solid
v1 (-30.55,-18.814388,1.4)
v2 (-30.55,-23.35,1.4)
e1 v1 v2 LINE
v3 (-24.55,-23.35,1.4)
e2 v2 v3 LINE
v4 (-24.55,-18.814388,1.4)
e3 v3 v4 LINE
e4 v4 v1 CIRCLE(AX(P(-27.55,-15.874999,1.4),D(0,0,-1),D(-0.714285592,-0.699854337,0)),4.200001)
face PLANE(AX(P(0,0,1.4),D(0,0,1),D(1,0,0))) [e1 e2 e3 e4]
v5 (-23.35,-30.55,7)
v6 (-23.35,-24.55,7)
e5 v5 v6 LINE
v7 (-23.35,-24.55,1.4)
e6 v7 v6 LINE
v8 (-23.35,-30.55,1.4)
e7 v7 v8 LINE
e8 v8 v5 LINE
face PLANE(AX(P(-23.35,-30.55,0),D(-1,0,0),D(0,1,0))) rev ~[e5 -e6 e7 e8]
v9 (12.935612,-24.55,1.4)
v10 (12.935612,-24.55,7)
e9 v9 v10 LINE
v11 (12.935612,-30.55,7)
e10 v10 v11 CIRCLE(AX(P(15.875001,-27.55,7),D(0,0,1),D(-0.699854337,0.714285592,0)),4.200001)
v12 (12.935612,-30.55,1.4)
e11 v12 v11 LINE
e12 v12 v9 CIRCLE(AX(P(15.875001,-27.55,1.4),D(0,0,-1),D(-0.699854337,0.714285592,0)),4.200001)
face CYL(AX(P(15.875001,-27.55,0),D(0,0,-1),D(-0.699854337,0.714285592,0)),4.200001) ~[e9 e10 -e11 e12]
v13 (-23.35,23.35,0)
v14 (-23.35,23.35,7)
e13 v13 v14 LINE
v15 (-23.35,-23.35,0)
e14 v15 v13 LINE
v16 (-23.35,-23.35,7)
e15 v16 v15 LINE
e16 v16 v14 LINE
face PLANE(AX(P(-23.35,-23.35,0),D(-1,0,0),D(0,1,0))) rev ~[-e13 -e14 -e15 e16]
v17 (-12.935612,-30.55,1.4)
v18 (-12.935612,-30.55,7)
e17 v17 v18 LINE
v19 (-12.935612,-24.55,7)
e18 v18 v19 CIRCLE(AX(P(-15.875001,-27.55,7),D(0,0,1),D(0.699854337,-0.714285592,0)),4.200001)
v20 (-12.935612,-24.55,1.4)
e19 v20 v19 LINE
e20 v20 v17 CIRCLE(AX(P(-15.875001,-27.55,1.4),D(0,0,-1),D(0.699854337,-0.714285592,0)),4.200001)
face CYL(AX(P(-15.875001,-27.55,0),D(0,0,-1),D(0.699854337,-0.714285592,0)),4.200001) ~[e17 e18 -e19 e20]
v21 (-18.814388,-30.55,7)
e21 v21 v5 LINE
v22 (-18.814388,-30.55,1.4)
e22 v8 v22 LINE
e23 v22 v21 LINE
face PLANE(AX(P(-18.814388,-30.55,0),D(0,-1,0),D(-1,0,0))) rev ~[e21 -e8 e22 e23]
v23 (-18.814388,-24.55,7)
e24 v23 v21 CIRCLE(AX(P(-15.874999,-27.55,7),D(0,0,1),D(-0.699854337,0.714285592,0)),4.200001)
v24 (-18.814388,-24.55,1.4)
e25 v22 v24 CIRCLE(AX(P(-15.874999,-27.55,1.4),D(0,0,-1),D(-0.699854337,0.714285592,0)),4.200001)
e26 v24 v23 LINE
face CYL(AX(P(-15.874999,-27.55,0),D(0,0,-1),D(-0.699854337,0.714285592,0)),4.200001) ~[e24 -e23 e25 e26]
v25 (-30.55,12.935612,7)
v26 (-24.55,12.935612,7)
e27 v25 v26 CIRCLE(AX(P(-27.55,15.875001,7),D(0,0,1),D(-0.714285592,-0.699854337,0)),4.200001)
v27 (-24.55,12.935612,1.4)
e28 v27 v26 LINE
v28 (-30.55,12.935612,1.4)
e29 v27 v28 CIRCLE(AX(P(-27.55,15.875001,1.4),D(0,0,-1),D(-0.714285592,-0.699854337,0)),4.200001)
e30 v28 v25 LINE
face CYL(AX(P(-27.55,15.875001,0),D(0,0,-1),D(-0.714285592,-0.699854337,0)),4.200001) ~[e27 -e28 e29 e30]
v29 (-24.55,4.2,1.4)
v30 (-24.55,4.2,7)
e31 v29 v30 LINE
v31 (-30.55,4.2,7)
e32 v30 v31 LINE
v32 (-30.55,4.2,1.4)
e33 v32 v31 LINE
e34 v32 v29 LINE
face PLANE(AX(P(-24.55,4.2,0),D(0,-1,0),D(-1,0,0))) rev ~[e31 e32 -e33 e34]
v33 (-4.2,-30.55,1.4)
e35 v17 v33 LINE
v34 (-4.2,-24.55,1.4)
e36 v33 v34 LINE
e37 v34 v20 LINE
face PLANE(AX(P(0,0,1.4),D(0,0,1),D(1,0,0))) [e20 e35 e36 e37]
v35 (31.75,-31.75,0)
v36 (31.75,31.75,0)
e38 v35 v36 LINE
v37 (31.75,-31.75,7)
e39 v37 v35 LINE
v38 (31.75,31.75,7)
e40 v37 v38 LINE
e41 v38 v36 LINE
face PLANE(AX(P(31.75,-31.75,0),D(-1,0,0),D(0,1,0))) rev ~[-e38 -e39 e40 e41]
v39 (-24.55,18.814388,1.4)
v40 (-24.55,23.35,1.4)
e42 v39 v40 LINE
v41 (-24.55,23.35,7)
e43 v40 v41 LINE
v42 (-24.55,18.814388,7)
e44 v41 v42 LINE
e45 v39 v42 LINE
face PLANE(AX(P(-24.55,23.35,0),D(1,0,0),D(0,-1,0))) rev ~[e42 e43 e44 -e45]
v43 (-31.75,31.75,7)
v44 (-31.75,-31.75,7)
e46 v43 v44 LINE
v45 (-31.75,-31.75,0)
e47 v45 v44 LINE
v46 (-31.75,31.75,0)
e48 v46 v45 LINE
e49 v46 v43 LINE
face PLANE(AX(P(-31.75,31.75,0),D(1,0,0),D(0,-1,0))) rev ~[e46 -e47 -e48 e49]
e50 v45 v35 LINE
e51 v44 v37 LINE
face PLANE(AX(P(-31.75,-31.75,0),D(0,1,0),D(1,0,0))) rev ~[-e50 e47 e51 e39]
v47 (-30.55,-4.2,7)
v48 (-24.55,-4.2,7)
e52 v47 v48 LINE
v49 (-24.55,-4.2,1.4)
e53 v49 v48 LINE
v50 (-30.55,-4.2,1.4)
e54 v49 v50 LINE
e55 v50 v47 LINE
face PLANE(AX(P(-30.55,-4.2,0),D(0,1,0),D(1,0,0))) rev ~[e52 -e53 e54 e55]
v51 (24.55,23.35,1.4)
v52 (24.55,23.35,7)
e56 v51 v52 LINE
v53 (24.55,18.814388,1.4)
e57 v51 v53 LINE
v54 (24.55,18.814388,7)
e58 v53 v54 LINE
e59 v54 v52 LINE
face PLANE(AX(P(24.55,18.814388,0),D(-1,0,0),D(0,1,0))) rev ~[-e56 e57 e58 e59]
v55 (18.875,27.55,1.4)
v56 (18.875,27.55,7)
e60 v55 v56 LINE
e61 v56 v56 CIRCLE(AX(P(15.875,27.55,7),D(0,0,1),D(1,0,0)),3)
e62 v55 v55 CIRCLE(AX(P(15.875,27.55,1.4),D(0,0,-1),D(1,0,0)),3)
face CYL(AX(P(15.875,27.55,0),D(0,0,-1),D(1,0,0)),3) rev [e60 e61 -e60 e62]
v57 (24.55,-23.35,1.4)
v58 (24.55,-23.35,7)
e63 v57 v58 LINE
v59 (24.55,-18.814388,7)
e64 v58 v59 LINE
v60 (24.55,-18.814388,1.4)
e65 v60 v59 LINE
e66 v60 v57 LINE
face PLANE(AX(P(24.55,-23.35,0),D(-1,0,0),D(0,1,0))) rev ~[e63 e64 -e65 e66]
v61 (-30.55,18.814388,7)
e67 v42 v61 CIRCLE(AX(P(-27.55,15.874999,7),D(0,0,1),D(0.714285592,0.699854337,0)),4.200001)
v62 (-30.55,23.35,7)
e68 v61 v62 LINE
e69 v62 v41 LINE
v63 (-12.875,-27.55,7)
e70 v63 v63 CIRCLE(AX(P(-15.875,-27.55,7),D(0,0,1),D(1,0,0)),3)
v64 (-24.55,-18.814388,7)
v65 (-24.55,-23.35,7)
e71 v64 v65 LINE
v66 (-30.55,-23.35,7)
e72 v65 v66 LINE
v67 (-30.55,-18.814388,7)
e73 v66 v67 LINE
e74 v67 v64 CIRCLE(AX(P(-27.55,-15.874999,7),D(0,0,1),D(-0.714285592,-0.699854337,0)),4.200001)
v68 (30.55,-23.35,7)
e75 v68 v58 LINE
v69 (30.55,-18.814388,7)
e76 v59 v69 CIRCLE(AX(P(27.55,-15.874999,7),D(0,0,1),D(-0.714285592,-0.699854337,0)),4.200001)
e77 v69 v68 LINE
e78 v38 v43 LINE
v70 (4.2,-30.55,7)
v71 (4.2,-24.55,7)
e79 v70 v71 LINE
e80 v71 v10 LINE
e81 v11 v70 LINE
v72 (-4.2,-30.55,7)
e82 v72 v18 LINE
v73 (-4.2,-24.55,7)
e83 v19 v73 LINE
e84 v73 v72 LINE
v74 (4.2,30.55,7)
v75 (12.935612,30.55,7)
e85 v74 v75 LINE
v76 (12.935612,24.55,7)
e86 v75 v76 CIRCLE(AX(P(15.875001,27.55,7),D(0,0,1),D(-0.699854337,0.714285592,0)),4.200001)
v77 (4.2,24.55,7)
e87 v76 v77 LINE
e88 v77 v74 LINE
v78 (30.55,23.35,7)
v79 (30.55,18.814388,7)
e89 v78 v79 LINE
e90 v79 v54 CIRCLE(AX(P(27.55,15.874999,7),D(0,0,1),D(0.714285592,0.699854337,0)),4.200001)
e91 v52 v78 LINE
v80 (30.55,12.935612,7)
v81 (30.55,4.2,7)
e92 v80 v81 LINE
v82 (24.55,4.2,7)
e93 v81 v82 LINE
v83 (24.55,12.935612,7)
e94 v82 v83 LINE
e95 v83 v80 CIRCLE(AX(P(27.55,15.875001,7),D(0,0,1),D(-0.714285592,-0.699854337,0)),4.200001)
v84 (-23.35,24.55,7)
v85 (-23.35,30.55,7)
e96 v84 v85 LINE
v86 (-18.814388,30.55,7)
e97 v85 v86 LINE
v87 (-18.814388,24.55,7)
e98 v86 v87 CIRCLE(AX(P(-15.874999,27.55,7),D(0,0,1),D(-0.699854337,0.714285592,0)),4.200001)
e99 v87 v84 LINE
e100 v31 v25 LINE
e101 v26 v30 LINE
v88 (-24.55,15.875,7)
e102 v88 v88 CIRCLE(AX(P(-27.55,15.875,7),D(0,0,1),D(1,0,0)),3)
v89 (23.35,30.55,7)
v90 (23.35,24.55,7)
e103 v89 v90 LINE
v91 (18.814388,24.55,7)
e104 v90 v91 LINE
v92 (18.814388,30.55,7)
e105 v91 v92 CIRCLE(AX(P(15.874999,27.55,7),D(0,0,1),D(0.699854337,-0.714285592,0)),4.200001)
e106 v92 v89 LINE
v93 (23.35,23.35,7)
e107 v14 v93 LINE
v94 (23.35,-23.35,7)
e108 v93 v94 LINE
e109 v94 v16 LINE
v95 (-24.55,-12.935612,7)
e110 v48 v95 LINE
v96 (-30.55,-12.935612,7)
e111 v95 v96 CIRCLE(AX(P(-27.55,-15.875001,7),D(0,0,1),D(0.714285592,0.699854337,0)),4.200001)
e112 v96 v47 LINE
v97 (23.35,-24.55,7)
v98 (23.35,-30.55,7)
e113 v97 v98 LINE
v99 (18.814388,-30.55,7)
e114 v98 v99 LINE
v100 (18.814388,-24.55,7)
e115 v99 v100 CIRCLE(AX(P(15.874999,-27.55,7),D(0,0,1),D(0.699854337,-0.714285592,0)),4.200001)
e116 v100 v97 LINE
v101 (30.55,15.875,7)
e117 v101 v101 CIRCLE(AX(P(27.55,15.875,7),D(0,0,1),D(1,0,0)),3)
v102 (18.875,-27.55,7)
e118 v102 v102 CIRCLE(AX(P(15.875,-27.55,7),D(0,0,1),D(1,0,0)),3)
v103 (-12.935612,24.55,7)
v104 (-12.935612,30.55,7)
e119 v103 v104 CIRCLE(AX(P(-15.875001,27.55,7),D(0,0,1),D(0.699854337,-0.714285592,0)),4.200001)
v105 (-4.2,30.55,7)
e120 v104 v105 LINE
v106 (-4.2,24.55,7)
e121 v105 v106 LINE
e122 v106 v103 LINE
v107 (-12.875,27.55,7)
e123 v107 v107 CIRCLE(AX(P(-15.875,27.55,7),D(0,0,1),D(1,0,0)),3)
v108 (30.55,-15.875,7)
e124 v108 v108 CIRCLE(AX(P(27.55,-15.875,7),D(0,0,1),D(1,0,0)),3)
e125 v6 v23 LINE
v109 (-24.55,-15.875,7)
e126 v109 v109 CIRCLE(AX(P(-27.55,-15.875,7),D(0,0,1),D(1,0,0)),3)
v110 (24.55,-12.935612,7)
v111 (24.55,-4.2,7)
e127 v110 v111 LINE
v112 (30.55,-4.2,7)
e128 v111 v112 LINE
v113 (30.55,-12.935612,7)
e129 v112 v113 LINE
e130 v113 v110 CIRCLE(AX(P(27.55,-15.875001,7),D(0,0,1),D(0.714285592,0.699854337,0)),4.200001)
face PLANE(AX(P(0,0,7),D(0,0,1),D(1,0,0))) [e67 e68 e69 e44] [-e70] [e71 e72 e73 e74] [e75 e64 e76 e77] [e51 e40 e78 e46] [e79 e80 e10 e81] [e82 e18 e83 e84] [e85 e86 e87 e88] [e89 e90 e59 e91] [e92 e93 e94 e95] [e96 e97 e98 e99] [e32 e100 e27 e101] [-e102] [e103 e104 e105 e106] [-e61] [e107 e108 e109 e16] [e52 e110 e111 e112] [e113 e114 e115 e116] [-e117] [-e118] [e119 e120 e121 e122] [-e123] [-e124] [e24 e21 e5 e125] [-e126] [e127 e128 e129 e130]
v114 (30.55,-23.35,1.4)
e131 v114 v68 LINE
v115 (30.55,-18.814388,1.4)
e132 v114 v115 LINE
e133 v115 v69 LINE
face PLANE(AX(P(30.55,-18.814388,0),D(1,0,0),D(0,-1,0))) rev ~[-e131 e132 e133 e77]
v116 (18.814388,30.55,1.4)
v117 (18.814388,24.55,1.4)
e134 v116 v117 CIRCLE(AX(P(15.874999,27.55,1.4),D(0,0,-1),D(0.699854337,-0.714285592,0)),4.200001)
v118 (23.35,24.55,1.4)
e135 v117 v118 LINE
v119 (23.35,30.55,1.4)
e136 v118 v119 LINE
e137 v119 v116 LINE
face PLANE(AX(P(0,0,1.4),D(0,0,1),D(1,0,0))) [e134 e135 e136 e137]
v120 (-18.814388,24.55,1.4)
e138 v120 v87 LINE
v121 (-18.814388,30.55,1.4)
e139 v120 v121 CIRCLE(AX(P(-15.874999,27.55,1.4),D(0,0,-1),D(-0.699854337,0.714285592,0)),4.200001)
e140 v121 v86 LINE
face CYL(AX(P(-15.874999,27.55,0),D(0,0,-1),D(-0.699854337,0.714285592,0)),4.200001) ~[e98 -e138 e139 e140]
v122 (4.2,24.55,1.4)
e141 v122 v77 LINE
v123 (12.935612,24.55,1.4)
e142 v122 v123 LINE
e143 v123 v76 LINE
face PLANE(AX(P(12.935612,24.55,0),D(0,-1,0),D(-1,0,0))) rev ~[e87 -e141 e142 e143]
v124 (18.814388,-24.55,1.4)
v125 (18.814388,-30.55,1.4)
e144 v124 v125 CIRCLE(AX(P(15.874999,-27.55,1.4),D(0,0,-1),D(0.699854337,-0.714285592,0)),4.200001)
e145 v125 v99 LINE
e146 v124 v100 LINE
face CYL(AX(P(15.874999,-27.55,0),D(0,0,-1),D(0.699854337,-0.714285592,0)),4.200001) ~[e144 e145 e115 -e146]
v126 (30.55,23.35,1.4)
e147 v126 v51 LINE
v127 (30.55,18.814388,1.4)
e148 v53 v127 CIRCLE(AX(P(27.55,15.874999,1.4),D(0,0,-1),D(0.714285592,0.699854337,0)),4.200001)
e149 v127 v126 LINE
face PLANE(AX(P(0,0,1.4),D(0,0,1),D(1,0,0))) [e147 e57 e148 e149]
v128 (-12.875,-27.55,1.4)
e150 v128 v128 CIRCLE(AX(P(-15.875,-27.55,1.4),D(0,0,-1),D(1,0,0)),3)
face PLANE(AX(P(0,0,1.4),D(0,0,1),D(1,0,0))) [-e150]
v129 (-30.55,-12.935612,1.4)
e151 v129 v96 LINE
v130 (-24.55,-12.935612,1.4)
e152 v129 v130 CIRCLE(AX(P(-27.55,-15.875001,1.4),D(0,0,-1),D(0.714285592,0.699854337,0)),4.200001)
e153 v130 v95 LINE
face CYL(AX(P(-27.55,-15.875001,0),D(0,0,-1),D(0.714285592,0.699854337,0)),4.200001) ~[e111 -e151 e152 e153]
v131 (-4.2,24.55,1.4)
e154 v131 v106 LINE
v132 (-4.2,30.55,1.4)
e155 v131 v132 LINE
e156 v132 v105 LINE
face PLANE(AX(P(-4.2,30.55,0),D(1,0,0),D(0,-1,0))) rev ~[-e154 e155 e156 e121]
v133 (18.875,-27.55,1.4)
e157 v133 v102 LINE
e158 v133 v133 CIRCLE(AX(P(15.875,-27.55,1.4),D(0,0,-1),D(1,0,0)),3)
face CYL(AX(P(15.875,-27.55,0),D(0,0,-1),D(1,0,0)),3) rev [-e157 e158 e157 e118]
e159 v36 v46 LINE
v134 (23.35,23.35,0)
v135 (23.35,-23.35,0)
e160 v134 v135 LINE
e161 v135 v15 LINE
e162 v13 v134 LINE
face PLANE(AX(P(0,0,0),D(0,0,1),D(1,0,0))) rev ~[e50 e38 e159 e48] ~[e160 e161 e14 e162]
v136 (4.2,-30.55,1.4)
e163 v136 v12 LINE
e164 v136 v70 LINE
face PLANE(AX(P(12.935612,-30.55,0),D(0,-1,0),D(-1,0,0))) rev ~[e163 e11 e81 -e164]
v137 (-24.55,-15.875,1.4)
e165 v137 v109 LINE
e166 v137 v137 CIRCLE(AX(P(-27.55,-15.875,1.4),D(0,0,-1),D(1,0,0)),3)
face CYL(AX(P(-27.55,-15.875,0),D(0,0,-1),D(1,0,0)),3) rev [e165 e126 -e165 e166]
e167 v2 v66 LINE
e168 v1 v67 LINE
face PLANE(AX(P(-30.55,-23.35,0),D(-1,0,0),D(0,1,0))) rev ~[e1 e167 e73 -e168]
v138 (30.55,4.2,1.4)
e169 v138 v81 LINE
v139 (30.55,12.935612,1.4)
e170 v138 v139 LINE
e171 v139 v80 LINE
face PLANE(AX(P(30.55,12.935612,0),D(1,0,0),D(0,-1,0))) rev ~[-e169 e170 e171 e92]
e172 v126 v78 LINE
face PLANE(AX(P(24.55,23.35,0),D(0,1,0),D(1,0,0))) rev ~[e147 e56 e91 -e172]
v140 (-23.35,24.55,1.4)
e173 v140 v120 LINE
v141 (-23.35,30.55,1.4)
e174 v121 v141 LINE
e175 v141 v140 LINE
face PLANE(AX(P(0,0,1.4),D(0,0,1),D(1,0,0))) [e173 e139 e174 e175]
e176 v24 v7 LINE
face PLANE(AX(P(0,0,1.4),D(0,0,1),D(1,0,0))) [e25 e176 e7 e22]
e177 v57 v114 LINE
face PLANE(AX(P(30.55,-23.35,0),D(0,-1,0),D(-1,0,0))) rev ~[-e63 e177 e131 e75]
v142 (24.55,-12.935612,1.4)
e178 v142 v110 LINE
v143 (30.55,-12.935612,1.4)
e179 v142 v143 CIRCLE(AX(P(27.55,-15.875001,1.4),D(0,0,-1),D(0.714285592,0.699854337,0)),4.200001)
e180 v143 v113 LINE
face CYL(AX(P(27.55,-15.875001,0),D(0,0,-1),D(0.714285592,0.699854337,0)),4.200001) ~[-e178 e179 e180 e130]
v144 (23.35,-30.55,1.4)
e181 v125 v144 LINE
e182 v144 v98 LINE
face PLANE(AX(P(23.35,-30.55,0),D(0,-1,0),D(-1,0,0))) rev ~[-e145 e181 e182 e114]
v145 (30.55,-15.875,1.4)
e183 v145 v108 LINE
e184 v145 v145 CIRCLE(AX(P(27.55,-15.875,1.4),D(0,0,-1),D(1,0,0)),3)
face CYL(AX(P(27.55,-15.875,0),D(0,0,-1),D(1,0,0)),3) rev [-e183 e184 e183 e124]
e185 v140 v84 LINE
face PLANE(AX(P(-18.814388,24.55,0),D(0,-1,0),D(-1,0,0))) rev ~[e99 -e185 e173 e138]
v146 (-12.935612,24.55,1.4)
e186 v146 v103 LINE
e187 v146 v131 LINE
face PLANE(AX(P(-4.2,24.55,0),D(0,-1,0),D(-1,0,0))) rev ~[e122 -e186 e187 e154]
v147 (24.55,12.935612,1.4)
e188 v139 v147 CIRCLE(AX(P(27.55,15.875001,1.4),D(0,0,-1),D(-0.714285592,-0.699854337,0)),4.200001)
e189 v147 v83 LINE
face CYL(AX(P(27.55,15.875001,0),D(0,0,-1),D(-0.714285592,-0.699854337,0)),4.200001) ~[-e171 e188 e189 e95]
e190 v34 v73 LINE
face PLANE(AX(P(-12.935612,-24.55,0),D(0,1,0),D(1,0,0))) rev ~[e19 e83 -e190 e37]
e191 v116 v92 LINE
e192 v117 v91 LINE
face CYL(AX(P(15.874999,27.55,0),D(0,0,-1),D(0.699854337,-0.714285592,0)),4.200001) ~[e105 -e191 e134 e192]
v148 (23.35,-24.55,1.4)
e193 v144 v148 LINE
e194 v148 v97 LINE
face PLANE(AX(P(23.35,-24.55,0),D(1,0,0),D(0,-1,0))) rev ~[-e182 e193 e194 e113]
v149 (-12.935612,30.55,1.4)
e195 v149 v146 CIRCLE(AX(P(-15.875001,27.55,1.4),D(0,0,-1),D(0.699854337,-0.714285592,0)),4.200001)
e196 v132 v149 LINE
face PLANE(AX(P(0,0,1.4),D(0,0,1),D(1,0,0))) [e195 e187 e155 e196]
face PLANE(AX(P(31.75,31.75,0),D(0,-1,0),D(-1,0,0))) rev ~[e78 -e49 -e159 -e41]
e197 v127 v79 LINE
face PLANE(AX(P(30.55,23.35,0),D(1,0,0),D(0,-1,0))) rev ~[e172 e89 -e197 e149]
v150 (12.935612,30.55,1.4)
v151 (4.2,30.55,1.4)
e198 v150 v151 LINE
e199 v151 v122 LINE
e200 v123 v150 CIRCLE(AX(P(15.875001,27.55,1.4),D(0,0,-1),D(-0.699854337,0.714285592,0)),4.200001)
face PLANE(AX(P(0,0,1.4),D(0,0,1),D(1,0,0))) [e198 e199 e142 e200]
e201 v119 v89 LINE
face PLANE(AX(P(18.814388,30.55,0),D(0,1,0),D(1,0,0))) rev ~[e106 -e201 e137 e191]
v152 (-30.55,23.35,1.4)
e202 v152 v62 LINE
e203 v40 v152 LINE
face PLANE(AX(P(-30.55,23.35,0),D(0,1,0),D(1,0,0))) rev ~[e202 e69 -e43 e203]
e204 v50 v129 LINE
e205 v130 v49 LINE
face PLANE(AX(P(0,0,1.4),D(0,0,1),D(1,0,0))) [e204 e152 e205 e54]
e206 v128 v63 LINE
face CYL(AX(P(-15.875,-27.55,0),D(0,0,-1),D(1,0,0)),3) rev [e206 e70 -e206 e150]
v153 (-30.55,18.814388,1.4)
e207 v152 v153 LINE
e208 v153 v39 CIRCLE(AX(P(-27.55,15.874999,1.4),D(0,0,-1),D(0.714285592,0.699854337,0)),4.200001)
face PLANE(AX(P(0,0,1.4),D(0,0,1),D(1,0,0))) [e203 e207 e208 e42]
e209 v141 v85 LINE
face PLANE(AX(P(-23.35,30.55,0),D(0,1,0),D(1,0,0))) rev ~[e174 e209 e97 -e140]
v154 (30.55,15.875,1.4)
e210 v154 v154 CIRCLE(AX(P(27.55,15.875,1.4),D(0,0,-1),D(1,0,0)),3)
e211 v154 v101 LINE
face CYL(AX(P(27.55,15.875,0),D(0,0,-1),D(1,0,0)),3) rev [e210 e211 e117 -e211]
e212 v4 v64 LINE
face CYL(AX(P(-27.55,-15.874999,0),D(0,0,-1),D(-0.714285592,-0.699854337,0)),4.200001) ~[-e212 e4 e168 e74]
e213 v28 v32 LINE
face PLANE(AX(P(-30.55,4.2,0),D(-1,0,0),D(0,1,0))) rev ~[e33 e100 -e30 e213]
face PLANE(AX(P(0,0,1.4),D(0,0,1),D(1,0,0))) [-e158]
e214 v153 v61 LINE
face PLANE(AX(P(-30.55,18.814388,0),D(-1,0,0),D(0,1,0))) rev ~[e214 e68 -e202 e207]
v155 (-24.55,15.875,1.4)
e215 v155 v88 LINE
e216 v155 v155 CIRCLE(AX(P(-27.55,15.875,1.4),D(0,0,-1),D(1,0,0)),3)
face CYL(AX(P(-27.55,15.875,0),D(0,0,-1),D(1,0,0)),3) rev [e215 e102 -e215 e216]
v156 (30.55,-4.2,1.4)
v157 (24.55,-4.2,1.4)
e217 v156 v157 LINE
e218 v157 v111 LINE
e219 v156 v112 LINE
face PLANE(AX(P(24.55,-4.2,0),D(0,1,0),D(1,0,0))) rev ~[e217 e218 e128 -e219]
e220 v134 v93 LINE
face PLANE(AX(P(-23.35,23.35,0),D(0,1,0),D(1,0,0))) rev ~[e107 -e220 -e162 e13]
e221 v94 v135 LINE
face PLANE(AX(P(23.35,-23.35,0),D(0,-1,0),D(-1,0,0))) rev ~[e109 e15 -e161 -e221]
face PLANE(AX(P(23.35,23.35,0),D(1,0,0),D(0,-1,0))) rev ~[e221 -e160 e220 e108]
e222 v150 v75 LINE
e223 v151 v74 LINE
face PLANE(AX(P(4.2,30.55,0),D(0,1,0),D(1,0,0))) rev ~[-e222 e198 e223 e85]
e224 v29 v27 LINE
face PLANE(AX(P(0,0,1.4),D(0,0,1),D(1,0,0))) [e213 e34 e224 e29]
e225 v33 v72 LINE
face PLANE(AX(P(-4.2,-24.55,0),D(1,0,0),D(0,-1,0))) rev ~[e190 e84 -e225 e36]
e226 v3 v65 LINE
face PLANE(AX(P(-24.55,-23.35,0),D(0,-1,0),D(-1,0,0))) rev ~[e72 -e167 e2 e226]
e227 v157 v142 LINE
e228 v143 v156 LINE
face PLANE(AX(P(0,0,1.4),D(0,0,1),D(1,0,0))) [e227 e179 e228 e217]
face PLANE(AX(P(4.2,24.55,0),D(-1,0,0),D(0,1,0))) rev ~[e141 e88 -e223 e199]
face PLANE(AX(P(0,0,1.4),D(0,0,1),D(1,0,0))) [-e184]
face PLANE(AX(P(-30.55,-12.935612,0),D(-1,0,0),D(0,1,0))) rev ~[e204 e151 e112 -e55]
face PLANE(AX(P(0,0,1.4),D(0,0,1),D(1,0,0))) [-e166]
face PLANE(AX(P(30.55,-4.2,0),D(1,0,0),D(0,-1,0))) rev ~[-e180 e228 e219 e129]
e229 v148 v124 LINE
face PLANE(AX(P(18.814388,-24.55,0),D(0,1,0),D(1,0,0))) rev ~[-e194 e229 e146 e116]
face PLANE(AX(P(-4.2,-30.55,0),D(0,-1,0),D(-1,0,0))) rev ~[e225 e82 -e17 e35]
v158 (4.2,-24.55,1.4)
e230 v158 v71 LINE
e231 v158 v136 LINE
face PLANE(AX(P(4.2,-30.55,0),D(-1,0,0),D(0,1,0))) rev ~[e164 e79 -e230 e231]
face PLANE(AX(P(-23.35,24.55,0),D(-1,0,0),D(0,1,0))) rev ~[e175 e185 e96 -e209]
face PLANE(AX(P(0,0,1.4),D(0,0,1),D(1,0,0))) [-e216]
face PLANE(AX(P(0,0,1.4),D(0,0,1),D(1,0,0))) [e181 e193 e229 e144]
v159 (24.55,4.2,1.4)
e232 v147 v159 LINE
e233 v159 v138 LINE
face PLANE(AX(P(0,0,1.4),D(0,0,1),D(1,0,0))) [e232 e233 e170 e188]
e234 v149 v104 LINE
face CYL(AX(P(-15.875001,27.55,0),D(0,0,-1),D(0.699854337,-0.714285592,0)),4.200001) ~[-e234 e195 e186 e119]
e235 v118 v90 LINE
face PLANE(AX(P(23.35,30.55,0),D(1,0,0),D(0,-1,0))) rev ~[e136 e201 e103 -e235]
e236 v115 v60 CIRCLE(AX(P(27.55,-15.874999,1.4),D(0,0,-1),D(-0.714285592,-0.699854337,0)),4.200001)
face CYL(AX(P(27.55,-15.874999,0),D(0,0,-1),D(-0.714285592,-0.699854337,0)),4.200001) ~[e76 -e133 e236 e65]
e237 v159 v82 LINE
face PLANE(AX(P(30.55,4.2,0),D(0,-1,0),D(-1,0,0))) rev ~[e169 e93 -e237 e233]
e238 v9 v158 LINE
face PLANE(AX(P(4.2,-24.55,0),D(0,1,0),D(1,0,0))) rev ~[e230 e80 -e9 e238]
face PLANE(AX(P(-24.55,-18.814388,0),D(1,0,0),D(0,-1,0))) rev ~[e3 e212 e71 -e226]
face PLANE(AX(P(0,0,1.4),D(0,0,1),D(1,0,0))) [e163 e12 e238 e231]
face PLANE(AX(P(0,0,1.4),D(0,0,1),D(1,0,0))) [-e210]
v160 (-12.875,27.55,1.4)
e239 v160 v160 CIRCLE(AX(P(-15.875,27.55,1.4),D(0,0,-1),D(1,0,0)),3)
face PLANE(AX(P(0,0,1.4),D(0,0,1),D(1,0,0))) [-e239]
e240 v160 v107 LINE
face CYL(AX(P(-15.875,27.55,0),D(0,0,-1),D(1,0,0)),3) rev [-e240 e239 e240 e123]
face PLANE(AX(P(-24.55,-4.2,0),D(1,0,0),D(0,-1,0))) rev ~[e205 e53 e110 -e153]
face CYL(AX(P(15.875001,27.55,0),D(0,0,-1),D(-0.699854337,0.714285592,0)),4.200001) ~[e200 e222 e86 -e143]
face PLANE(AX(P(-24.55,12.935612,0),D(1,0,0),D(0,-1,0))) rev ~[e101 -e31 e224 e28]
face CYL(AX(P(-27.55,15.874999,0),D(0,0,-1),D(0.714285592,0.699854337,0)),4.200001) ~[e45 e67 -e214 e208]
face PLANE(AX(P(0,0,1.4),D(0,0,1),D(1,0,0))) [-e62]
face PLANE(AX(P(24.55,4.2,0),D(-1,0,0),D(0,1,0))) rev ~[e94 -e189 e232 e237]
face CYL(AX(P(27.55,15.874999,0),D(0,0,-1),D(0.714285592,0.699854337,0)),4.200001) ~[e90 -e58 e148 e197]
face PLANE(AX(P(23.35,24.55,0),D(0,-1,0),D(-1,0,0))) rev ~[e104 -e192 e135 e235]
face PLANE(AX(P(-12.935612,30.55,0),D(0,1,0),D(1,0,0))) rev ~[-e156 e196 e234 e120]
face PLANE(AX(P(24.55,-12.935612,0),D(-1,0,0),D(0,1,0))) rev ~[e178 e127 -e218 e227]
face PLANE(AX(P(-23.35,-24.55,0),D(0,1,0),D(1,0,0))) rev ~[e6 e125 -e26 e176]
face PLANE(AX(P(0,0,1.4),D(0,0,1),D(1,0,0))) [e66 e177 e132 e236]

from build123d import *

# Parameters (mm, degrees)
F0_R     = 3
F1_DEPTH = 1.4
F2_DEPTH = 7


with BuildPart() as f1:
    # F0 (on Top) → F1 (new body)
    with BuildSketch(Plane.XY):
        Polygon((31.75, 31.75), (0, 31.75), (-31.75, 31.75), (-31.75, 0), (-31.75, -31.75), (0, -31.75), (31.75, -31.75), (31.75, 0), align=None)
        with BuildLine():
            ThreePointArc((-18.814388, -24.55), (-20.075, -27.55), (-18.814388, -30.55))
            Line((-18.814388, -30.55), (-23.35, -30.55))
            Line((-23.35, -30.55), (-23.35, -24.55))
            Line((-23.35, -24.55), (-18.814388, -24.55))
        make_face(mode=Mode.SUBTRACT)
        with BuildLine():
            Line((-24.55, -18.814388), (-24.55, -23.35))
            Line((-24.55, -23.35), (-30.55, -23.35))
            Line((-30.55, -23.35), (-30.55, -18.814388))
            ThreePointArc((-30.55, -18.814388), (-27.55, -20.075), (-24.55, -18.814388))
        make_face(mode=Mode.SUBTRACT)
        with Locations((-15.875, -27.55)):
            Circle(F0_R, mode=Mode.SUBTRACT)
        with Locations((-27.55, -15.875)):
            Circle(F0_R, mode=Mode.SUBTRACT)
        with BuildLine():
            Line((4.2, -30.55), (0, -30.55))
            Line((0, -30.55), (-4.2, -30.55))
            Line((-4.2, -30.55), (-12.935612, -30.55))
            ThreePointArc((-12.935612, -30.55), (-11.675, -27.55), (-12.935612, -24.55))
            Line((-12.935612, -24.55), (-4.2, -24.55))
            Line((-4.2, -24.55), (0, -24.55))
            Line((0, -24.55), (4.2, -24.55))
            Line((4.2, -24.55), (12.935612, -24.55))
            ThreePointArc((12.935612, -24.55), (11.675, -27.55), (12.935612, -30.55))
            Line((12.935612, -30.55), (4.2, -30.55))
        make_face(mode=Mode.SUBTRACT)
        with Locations((15.875, -27.55)):
            Circle(F0_R, mode=Mode.SUBTRACT)
        with BuildLine():
            Line((23.35, -30.55), (18.814388, -30.55))
            ThreePointArc((18.814388, -30.55), (20.075, -27.55), (18.814388, -24.55))
            Line((18.814388, -24.55), (23.35, -24.55))
            Line((23.35, -24.55), (23.35, -30.55))
        make_face(mode=Mode.SUBTRACT)
        with BuildLine():
            Line((30.55, -23.35), (24.55, -23.35))
            Line((24.55, -23.35), (24.55, -18.814388))
            ThreePointArc((24.55, -18.814388), (27.55, -20.075), (30.55, -18.814388))
            Line((30.55, -18.814388), (30.55, -23.35))
        make_face(mode=Mode.SUBTRACT)
        with Locations((27.55, -15.875)):
            Circle(F0_R, mode=Mode.SUBTRACT)
        with BuildLine():
            Line((-30.55, 0), (-30.55, 4.2))
            Line((-30.55, 4.2), (-30.55, 12.935612))
            ThreePointArc((-30.55, 12.935612), (-27.55, 11.675), (-24.55, 12.935612))
            Line((-24.55, 12.935612), (-24.55, 4.2))
            Line((-24.55, 4.2), (-24.55, 0))
            Line((-24.55, 0), (-24.55, -4.2))
            Line((-24.55, -4.2), (-24.55, -12.935612))
            ThreePointArc((-24.55, -12.935612), (-27.55, -11.675), (-30.55, -12.935612))
            Line((-30.55, -12.935612), (-30.55, -4.2))
            Line((-30.55, -4.2), (-30.55, 0))
        make_face(mode=Mode.SUBTRACT)
        with Locations((-27.55, 15.875)):
            Circle(F0_R, mode=Mode.SUBTRACT)
        with BuildLine():
            Line((-30.55, 18.814388), (-30.55, 23.35))
            Line((-30.55, 23.35), (-24.55, 23.35))
            Line((-24.55, 23.35), (-24.55, 18.814388))
            ThreePointArc((-24.55, 18.814388), (-27.55, 20.075), (-30.55, 18.814388))
        make_face(mode=Mode.SUBTRACT)
        with BuildLine():
            Line((-18.814388, 24.55), (-23.35, 24.55))
            Line((-23.35, 24.55), (-23.35, 30.55))
            Line((-23.35, 30.55), (-18.814388, 30.55))
            ThreePointArc((-18.814388, 30.55), (-20.075, 27.55), (-18.814388, 24.55))
        make_face(mode=Mode.SUBTRACT)
        with Locations((-15.875, 27.55)):
            Circle(F0_R, mode=Mode.SUBTRACT)
        Polygon((-23.35, 0), (-23.35, 23.35), (0, 23.35), (23.35, 23.35), (23.35, 0), (23.35, -23.35), (0, -23.35), (-23.35, -23.35), align=None, mode=Mode.SUBTRACT)
        with BuildLine():
            Line((24.55, 4.2), (24.55, 12.935612))
            ThreePointArc((24.55, 12.935612), (27.55, 11.675), (30.55, 12.935612))
            Line((30.55, 12.935612), (30.55, 4.2))
            Line((30.55, 4.2), (30.55, 0))
            Line((30.55, 0), (30.55, -4.2))
            Line((30.55, -4.2), (30.55, -12.935612))
            ThreePointArc((30.55, -12.935612), (27.55, -11.675), (24.55, -12.935612))
            Line((24.55, -12.935612), (24.55, -4.2))
            Line((24.55, -4.2), (24.55, 0))
            Line((24.55, 0), (24.55, 4.2))
        make_face(mode=Mode.SUBTRACT)
        with BuildLine():
            Line((-4.2, 30.55), (0, 30.55))
            Line((0, 30.55), (4.2, 30.55))
            Line((4.2, 30.55), (12.935612, 30.55))
            ThreePointArc((12.935612, 30.55), (11.675, 27.55), (12.935612, 24.55))
            Line((12.935612, 24.55), (4.2, 24.55))
            Line((4.2, 24.55), (0, 24.55))
            Line((0, 24.55), (-4.2, 24.55))
            Line((-4.2, 24.55), (-12.935612, 24.55))
            ThreePointArc((-12.935612, 24.55), (-11.675, 27.55), (-12.935612, 30.55))
            Line((-12.935612, 30.55), (-4.2, 30.55))
        make_face(mode=Mode.SUBTRACT)
        with Locations((27.55, 15.875)):
            Circle(F0_R, mode=Mode.SUBTRACT)
        with BuildLine():
            ThreePointArc((30.55, 18.814388), (27.55, 20.075), (24.55, 18.814388))
            Line((24.55, 18.814388), (24.55, 23.35))
            Line((24.55, 23.35), (30.55, 23.35))
            Line((30.55, 23.35), (30.55, 18.814388))
        make_face(mode=Mode.SUBTRACT)
        with Locations((15.875, 27.55)):
            Circle(F0_R, mode=Mode.SUBTRACT)
        with BuildLine():
            ThreePointArc((18.814388, 24.55), (20.075, 27.55), (18.814388, 30.55))
            Line((18.814388, 30.55), (23.35, 30.55))
            Line((23.35, 30.55), (23.35, 24.55))
            Line((23.35, 24.55), (18.814388, 24.55))
        make_face(mode=Mode.SUBTRACT)
        with BuildLine():
            Line((-24.55, 23.35), (-30.55, 23.35))
            Line((-30.55, 23.35), (-30.55, 18.814388))
            ThreePointArc((-30.55, 18.814388), (-27.55, 20.075), (-24.55, 18.814388))
            Line((-24.55, 18.814388), (-24.55, 23.35))
        make_face()
        with Locations((-27.55, 15.875)):
            Circle(F0_R)
        with Locations((-15.875, 27.55)):
            Circle(F0_R)
        with BuildLine():
            Line((-23.35, 30.55), (-23.35, 24.55))
            Line((-23.35, 24.55), (-18.814388, 24.55))
            ThreePointArc((-18.814388, 24.55), (-20.075, 27.55), (-18.814388, 30.55))
            Line((-18.814388, 30.55), (-23.35, 30.55))
        make_face()
        Polygon((4.2, 30.55), (0, 30.55), (-4.2, 30.55), (-4.2, 24.55), (0, 24.55), (4.2, 24.55), align=None)
        with BuildLine():
            Line((-4.2, 24.55), (-4.2, 30.55))
            Line((-4.2, 30.55), (-12.935612, 30.55))
            ThreePointArc((-12.935612, 30.55), (-11.675, 27.55), (-12.935612, 24.55))
            Line((-12.935612, 24.55), (-4.2, 24.55))
        make_face()
        with BuildLine():
            Line((12.935612, 30.55), (4.2, 30.55))
            Line((4.2, 30.55), (4.2, 24.55))
            Line((4.2, 24.55), (12.935612, 24.55))
            ThreePointArc((12.935612, 24.55), (11.675, 27.55), (12.935612, 30.55))
        make_face()
        with Locations((15.875, 27.55)):
            Circle(F0_R)
        with BuildLine():
            Line((23.35, 30.55), (18.814388, 30.55))
            ThreePointArc((18.814388, 30.55), (20.075, 27.55), (18.814388, 24.55))
            Line((18.814388, 24.55), (23.35, 24.55))
            Line((23.35, 24.55), (23.35, 30.55))
        make_face()
        with BuildLine():
            Line((24.55, 23.35), (24.55, 18.814388))
            ThreePointArc((24.55, 18.814388), (27.55, 20.075), (30.55, 18.814388))
            Line((30.55, 18.814388), (30.55, 23.35))
            Line((30.55, 23.35), (24.55, 23.35))
        make_face()
        with Locations((27.55, 15.875)):
            Circle(F0_R)
        with BuildLine():
            ThreePointArc((30.55, 12.935612), (27.55, 11.675), (24.55, 12.935612))
            Line((24.55, 12.935612), (24.55, 4.2))
            Line((24.55, 4.2), (30.55, 4.2))
            Line((30.55, 4.2), (30.55, 12.935612))
        make_face()
        Polygon((30.55, 4.2), (24.55, 4.2), (24.55, 0), (24.55, -4.2), (30.55, -4.2), (30.55, 0), align=None)
        with BuildLine():
            Line((30.55, -4.2), (24.55, -4.2))
            Line((24.55, -4.2), (24.55, -12.935612))
            ThreePointArc((24.55, -12.935612), (27.55, -11.675), (30.55, -12.935612))
            Line((30.55, -12.935612), (30.55, -4.2))
        make_face()
        with Locations((27.55, -15.875)):
            Circle(F0_R)
        with BuildLine():
            Line((24.55, -18.814388), (24.55, -23.35))
            Line((24.55, -23.35), (30.55, -23.35))
            Line((30.55, -23.35), (30.55, -18.814388))
            ThreePointArc((30.55, -18.814388), (27.55, -20.075), (24.55, -18.814388))
        make_face()
        with BuildLine():
            ThreePointArc((18.814388, -24.55), (20.075, -27.55), (18.814388, -30.55))
            Line((18.814388, -30.55), (23.35, -30.55))
            Line((23.35, -30.55), (23.35, -24.55))
            Line((23.35, -24.55), (18.814388, -24.55))
        make_face()
        with Locations((15.875, -27.55)):
            Circle(F0_R)
        with BuildLine():
            Line((4.2, -24.55), (4.2, -30.55))
            Line((4.2, -30.55), (12.935612, -30.55))
            ThreePointArc((12.935612, -30.55), (11.675, -27.55), (12.935612, -24.55))
            Line((12.935612, -24.55), (4.2, -24.55))
        make_face()
        Polygon((-4.2, -30.55), (0, -30.55), (4.2, -30.55), (4.2, -24.55), (0, -24.55), (-4.2, -24.55), align=None)
        with BuildLine():
            Line((-12.935612, -30.55), (-4.2, -30.55))
            Line((-4.2, -30.55), (-4.2, -24.55))
            Line((-4.2, -24.55), (-12.935612, -24.55))
            ThreePointArc((-12.935612, -24.55), (-11.675, -27.55), (-12.935612, -30.55))
        make_face()
        with BuildLine():
            Line((-23.35, -30.55), (-18.814388, -30.55))
            ThreePointArc((-18.814388, -30.55), (-20.075, -27.55), (-18.814388, -24.55))
            Line((-18.814388, -24.55), (-23.35, -24.55))
            Line((-23.35, -24.55), (-23.35, -30.55))
        make_face()
        with Locations((-15.875, -27.55)):
            Circle(F0_R)
        with BuildLine():
            Line((-30.55, -23.35), (-24.55, -23.35))
            Line((-24.55, -23.35), (-24.55, -18.814388))
            ThreePointArc((-24.55, -18.814388), (-27.55, -20.075), (-30.55, -18.814388))
            Line((-30.55, -18.814388), (-30.55, -23.35))
        make_face()
        with Locations((-27.55, -15.875)):
            Circle(F0_R)
        with BuildLine():
            Line((-24.55, -4.2), (-30.55, -4.2))
            Line((-30.55, -4.2), (-30.55, -12.935612))
            ThreePointArc((-30.55, -12.935612), (-27.55, -11.675), (-24.55, -12.935612))
            Line((-24.55, -12.935612), (-24.55, -4.2))
        make_face()
        Polygon((-24.55, 4.2), (-30.55, 4.2), (-30.55, 0), (-30.55, -4.2), (-24.55, -4.2), (-24.55, 0), align=None)
        with BuildLine():
            Line((-30.55, 12.935612), (-30.55, 4.2))
            Line((-30.55, 4.2), (-24.55, 4.2))
            Line((-24.55, 4.2), (-24.55, 12.935612))
            ThreePointArc((-24.55, 12.935612), (-27.55, 11.675), (-30.55, 12.935612))
        make_face()
    extrude(amount=F1_DEPTH)

    # F0 (on Top) → F2 (join)
    with BuildSketch(Plane.XY):
        Polygon((31.75, 31.75), (0, 31.75), (-31.75, 31.75), (-31.75, 0), (-31.75, -31.75), (0, -31.75), (31.75, -31.75), (31.75, 0), align=None)
        with BuildLine():
            ThreePointArc((-18.814388, -24.55), (-20.075, -27.55), (-18.814388, -30.55))
            Line((-18.814388, -30.55), (-23.35, -30.55))
            Line((-23.35, -30.55), (-23.35, -24.55))
            Line((-23.35, -24.55), (-18.814388, -24.55))
        make_face(mode=Mode.SUBTRACT)
        with BuildLine():
            Line((-24.55, -18.814388), (-24.55, -23.35))
            Line((-24.55, -23.35), (-30.55, -23.35))
            Line((-30.55, -23.35), (-30.55, -18.814388))
            ThreePointArc((-30.55, -18.814388), (-27.55, -20.075), (-24.55, -18.814388))
        make_face(mode=Mode.SUBTRACT)
        with Locations((-15.875, -27.55)):
            Circle(F0_R, mode=Mode.SUBTRACT)
        with Locations((-27.55, -15.875)):
            Circle(F0_R, mode=Mode.SUBTRACT)
        with BuildLine():
            Line((4.2, -30.55), (0, -30.55))
            Line((0, -30.55), (-4.2, -30.55))
            Line((-4.2, -30.55), (-12.935612, -30.55))
            ThreePointArc((-12.935612, -30.55), (-11.675, -27.55), (-12.935612, -24.55))
            Line((-12.935612, -24.55), (-4.2, -24.55))
            Line((-4.2, -24.55), (0, -24.55))
            Line((0, -24.55), (4.2, -24.55))
            Line((4.2, -24.55), (12.935612, -24.55))
            ThreePointArc((12.935612, -24.55), (11.675, -27.55), (12.935612, -30.55))
            Line((12.935612, -30.55), (4.2, -30.55))
        make_face(mode=Mode.SUBTRACT)
        with Locations((15.875, -27.55)):
            Circle(F0_R, mode=Mode.SUBTRACT)
        with BuildLine():
            Line((23.35, -30.55), (18.814388, -30.55))
            ThreePointArc((18.814388, -30.55), (20.075, -27.55), (18.814388, -24.55))
            Line((18.814388, -24.55), (23.35, -24.55))
            Line((23.35, -24.55), (23.35, -30.55))
        make_face(mode=Mode.SUBTRACT)
        with BuildLine():
            Line((30.55, -23.35), (24.55, -23.35))
            Line((24.55, -23.35), (24.55, -18.814388))
            ThreePointArc((24.55, -18.814388), (27.55, -20.075), (30.55, -18.814388))
            Line((30.55, -18.814388), (30.55, -23.35))
        make_face(mode=Mode.SUBTRACT)
        with Locations((27.55, -15.875)):
            Circle(F0_R, mode=Mode.SUBTRACT)
        with BuildLine():
            Line((-30.55, 0), (-30.55, 4.2))
            Line((-30.55, 4.2), (-30.55, 12.935612))
            ThreePointArc((-30.55, 12.935612), (-27.55, 11.675), (-24.55, 12.935612))
            Line((-24.55, 12.935612), (-24.55, 4.2))
            Line((-24.55, 4.2), (-24.55, 0))
            Line((-24.55, 0), (-24.55, -4.2))
            Line((-24.55, -4.2), (-24.55, -12.935612))
            ThreePointArc((-24.55, -12.935612), (-27.55, -11.675), (-30.55, -12.935612))
            Line((-30.55, -12.935612), (-30.55, -4.2))
            Line((-30.55, -4.2), (-30.55, 0))
        make_face(mode=Mode.SUBTRACT)
        with Locations((-27.55, 15.875)):
            Circle(F0_R, mode=Mode.SUBTRACT)
        with BuildLine():
            Line((-30.55, 18.814388), (-30.55, 23.35))
            Line((-30.55, 23.35), (-24.55, 23.35))
            Line((-24.55, 23.35), (-24.55, 18.814388))
            ThreePointArc((-24.55, 18.814388), (-27.55, 20.075), (-30.55, 18.814388))
        make_face(mode=Mode.SUBTRACT)
        with BuildLine():
            Line((-18.814388, 24.55), (-23.35, 24.55))
            Line((-23.35, 24.55), (-23.35, 30.55))
            Line((-23.35, 30.55), (-18.814388, 30.55))
            ThreePointArc((-18.814388, 30.55), (-20.075, 27.55), (-18.814388, 24.55))
        make_face(mode=Mode.SUBTRACT)
        with Locations((-15.875, 27.55)):
            Circle(F0_R, mode=Mode.SUBTRACT)
        Polygon((-23.35, 0), (-23.35, 23.35), (0, 23.35), (23.35, 23.35), (23.35, 0), (23.35, -23.35), (0, -23.35), (-23.35, -23.35), align=None, mode=Mode.SUBTRACT)
        with BuildLine():
            Line((24.55, 4.2), (24.55, 12.935612))
            ThreePointArc((24.55, 12.935612), (27.55, 11.675), (30.55, 12.935612))
            Line((30.55, 12.935612), (30.55, 4.2))
            Line((30.55, 4.2), (30.55, 0))
            Line((30.55, 0), (30.55, -4.2))
            Line((30.55, -4.2), (30.55, -12.935612))
            ThreePointArc((30.55, -12.935612), (27.55, -11.675), (24.55, -12.935612))
            Line((24.55, -12.935612), (24.55, -4.2))
            Line((24.55, -4.2), (24.55, 0))
            Line((24.55, 0), (24.55, 4.2))
        make_face(mode=Mode.SUBTRACT)
        with BuildLine():
            Line((-4.2, 30.55), (0, 30.55))
            Line((0, 30.55), (4.2, 30.55))
            Line((4.2, 30.55), (12.935612, 30.55))
            ThreePointArc((12.935612, 30.55), (11.675, 27.55), (12.935612, 24.55))
            Line((12.935612, 24.55), (4.2, 24.55))
            Line((4.2, 24.55), (0, 24.55))
            Line((0, 24.55), (-4.2, 24.55))
            Line((-4.2, 24.55), (-12.935612, 24.55))
            ThreePointArc((-12.935612, 24.55), (-11.675, 27.55), (-12.935612, 30.55))
            Line((-12.935612, 30.55), (-4.2, 30.55))
        make_face(mode=Mode.SUBTRACT)
        with Locations((27.55, 15.875)):
            Circle(F0_R, mode=Mode.SUBTRACT)
        with BuildLine():
            ThreePointArc((30.55, 18.814388), (27.55, 20.075), (24.55, 18.814388))
            Line((24.55, 18.814388), (24.55, 23.35))
            Line((24.55, 23.35), (30.55, 23.35))
            Line((30.55, 23.35), (30.55, 18.814388))
        make_face(mode=Mode.SUBTRACT)
        with Locations((15.875, 27.55)):
            Circle(F0_R, mode=Mode.SUBTRACT)
        with BuildLine():
            ThreePointArc((18.814388, 24.55), (20.075, 27.55), (18.814388, 30.55))
            Line((18.814388, 30.55), (23.35, 30.55))
            Line((23.35, 30.55), (23.35, 24.55))
            Line((23.35, 24.55), (18.814388, 24.55))
        make_face(mode=Mode.SUBTRACT)
        Polygon((-4.2, -30.55), (0, -30.55), (4.2, -30.55), (4.2, -24.55), (0, -24.55), (-4.2, -24.55), align=None)
        Polygon((30.55, 4.2), (24.55, 4.2), (24.55, 0), (24.55, -4.2), (30.55, -4.2), (30.55, 0), align=None)
        Polygon((4.2, 30.55), (0, 30.55), (-4.2, 30.55), (-4.2, 24.55), (0, 24.55), (4.2, 24.55), align=None)
        Polygon((-24.55, 4.2), (-30.55, 4.2), (-30.55, 0), (-30.55, -4.2), (-24.55, -4.2), (-24.55, 0), align=None)
    extrude(amount=F2_DEPTH)


solid = f1.part
